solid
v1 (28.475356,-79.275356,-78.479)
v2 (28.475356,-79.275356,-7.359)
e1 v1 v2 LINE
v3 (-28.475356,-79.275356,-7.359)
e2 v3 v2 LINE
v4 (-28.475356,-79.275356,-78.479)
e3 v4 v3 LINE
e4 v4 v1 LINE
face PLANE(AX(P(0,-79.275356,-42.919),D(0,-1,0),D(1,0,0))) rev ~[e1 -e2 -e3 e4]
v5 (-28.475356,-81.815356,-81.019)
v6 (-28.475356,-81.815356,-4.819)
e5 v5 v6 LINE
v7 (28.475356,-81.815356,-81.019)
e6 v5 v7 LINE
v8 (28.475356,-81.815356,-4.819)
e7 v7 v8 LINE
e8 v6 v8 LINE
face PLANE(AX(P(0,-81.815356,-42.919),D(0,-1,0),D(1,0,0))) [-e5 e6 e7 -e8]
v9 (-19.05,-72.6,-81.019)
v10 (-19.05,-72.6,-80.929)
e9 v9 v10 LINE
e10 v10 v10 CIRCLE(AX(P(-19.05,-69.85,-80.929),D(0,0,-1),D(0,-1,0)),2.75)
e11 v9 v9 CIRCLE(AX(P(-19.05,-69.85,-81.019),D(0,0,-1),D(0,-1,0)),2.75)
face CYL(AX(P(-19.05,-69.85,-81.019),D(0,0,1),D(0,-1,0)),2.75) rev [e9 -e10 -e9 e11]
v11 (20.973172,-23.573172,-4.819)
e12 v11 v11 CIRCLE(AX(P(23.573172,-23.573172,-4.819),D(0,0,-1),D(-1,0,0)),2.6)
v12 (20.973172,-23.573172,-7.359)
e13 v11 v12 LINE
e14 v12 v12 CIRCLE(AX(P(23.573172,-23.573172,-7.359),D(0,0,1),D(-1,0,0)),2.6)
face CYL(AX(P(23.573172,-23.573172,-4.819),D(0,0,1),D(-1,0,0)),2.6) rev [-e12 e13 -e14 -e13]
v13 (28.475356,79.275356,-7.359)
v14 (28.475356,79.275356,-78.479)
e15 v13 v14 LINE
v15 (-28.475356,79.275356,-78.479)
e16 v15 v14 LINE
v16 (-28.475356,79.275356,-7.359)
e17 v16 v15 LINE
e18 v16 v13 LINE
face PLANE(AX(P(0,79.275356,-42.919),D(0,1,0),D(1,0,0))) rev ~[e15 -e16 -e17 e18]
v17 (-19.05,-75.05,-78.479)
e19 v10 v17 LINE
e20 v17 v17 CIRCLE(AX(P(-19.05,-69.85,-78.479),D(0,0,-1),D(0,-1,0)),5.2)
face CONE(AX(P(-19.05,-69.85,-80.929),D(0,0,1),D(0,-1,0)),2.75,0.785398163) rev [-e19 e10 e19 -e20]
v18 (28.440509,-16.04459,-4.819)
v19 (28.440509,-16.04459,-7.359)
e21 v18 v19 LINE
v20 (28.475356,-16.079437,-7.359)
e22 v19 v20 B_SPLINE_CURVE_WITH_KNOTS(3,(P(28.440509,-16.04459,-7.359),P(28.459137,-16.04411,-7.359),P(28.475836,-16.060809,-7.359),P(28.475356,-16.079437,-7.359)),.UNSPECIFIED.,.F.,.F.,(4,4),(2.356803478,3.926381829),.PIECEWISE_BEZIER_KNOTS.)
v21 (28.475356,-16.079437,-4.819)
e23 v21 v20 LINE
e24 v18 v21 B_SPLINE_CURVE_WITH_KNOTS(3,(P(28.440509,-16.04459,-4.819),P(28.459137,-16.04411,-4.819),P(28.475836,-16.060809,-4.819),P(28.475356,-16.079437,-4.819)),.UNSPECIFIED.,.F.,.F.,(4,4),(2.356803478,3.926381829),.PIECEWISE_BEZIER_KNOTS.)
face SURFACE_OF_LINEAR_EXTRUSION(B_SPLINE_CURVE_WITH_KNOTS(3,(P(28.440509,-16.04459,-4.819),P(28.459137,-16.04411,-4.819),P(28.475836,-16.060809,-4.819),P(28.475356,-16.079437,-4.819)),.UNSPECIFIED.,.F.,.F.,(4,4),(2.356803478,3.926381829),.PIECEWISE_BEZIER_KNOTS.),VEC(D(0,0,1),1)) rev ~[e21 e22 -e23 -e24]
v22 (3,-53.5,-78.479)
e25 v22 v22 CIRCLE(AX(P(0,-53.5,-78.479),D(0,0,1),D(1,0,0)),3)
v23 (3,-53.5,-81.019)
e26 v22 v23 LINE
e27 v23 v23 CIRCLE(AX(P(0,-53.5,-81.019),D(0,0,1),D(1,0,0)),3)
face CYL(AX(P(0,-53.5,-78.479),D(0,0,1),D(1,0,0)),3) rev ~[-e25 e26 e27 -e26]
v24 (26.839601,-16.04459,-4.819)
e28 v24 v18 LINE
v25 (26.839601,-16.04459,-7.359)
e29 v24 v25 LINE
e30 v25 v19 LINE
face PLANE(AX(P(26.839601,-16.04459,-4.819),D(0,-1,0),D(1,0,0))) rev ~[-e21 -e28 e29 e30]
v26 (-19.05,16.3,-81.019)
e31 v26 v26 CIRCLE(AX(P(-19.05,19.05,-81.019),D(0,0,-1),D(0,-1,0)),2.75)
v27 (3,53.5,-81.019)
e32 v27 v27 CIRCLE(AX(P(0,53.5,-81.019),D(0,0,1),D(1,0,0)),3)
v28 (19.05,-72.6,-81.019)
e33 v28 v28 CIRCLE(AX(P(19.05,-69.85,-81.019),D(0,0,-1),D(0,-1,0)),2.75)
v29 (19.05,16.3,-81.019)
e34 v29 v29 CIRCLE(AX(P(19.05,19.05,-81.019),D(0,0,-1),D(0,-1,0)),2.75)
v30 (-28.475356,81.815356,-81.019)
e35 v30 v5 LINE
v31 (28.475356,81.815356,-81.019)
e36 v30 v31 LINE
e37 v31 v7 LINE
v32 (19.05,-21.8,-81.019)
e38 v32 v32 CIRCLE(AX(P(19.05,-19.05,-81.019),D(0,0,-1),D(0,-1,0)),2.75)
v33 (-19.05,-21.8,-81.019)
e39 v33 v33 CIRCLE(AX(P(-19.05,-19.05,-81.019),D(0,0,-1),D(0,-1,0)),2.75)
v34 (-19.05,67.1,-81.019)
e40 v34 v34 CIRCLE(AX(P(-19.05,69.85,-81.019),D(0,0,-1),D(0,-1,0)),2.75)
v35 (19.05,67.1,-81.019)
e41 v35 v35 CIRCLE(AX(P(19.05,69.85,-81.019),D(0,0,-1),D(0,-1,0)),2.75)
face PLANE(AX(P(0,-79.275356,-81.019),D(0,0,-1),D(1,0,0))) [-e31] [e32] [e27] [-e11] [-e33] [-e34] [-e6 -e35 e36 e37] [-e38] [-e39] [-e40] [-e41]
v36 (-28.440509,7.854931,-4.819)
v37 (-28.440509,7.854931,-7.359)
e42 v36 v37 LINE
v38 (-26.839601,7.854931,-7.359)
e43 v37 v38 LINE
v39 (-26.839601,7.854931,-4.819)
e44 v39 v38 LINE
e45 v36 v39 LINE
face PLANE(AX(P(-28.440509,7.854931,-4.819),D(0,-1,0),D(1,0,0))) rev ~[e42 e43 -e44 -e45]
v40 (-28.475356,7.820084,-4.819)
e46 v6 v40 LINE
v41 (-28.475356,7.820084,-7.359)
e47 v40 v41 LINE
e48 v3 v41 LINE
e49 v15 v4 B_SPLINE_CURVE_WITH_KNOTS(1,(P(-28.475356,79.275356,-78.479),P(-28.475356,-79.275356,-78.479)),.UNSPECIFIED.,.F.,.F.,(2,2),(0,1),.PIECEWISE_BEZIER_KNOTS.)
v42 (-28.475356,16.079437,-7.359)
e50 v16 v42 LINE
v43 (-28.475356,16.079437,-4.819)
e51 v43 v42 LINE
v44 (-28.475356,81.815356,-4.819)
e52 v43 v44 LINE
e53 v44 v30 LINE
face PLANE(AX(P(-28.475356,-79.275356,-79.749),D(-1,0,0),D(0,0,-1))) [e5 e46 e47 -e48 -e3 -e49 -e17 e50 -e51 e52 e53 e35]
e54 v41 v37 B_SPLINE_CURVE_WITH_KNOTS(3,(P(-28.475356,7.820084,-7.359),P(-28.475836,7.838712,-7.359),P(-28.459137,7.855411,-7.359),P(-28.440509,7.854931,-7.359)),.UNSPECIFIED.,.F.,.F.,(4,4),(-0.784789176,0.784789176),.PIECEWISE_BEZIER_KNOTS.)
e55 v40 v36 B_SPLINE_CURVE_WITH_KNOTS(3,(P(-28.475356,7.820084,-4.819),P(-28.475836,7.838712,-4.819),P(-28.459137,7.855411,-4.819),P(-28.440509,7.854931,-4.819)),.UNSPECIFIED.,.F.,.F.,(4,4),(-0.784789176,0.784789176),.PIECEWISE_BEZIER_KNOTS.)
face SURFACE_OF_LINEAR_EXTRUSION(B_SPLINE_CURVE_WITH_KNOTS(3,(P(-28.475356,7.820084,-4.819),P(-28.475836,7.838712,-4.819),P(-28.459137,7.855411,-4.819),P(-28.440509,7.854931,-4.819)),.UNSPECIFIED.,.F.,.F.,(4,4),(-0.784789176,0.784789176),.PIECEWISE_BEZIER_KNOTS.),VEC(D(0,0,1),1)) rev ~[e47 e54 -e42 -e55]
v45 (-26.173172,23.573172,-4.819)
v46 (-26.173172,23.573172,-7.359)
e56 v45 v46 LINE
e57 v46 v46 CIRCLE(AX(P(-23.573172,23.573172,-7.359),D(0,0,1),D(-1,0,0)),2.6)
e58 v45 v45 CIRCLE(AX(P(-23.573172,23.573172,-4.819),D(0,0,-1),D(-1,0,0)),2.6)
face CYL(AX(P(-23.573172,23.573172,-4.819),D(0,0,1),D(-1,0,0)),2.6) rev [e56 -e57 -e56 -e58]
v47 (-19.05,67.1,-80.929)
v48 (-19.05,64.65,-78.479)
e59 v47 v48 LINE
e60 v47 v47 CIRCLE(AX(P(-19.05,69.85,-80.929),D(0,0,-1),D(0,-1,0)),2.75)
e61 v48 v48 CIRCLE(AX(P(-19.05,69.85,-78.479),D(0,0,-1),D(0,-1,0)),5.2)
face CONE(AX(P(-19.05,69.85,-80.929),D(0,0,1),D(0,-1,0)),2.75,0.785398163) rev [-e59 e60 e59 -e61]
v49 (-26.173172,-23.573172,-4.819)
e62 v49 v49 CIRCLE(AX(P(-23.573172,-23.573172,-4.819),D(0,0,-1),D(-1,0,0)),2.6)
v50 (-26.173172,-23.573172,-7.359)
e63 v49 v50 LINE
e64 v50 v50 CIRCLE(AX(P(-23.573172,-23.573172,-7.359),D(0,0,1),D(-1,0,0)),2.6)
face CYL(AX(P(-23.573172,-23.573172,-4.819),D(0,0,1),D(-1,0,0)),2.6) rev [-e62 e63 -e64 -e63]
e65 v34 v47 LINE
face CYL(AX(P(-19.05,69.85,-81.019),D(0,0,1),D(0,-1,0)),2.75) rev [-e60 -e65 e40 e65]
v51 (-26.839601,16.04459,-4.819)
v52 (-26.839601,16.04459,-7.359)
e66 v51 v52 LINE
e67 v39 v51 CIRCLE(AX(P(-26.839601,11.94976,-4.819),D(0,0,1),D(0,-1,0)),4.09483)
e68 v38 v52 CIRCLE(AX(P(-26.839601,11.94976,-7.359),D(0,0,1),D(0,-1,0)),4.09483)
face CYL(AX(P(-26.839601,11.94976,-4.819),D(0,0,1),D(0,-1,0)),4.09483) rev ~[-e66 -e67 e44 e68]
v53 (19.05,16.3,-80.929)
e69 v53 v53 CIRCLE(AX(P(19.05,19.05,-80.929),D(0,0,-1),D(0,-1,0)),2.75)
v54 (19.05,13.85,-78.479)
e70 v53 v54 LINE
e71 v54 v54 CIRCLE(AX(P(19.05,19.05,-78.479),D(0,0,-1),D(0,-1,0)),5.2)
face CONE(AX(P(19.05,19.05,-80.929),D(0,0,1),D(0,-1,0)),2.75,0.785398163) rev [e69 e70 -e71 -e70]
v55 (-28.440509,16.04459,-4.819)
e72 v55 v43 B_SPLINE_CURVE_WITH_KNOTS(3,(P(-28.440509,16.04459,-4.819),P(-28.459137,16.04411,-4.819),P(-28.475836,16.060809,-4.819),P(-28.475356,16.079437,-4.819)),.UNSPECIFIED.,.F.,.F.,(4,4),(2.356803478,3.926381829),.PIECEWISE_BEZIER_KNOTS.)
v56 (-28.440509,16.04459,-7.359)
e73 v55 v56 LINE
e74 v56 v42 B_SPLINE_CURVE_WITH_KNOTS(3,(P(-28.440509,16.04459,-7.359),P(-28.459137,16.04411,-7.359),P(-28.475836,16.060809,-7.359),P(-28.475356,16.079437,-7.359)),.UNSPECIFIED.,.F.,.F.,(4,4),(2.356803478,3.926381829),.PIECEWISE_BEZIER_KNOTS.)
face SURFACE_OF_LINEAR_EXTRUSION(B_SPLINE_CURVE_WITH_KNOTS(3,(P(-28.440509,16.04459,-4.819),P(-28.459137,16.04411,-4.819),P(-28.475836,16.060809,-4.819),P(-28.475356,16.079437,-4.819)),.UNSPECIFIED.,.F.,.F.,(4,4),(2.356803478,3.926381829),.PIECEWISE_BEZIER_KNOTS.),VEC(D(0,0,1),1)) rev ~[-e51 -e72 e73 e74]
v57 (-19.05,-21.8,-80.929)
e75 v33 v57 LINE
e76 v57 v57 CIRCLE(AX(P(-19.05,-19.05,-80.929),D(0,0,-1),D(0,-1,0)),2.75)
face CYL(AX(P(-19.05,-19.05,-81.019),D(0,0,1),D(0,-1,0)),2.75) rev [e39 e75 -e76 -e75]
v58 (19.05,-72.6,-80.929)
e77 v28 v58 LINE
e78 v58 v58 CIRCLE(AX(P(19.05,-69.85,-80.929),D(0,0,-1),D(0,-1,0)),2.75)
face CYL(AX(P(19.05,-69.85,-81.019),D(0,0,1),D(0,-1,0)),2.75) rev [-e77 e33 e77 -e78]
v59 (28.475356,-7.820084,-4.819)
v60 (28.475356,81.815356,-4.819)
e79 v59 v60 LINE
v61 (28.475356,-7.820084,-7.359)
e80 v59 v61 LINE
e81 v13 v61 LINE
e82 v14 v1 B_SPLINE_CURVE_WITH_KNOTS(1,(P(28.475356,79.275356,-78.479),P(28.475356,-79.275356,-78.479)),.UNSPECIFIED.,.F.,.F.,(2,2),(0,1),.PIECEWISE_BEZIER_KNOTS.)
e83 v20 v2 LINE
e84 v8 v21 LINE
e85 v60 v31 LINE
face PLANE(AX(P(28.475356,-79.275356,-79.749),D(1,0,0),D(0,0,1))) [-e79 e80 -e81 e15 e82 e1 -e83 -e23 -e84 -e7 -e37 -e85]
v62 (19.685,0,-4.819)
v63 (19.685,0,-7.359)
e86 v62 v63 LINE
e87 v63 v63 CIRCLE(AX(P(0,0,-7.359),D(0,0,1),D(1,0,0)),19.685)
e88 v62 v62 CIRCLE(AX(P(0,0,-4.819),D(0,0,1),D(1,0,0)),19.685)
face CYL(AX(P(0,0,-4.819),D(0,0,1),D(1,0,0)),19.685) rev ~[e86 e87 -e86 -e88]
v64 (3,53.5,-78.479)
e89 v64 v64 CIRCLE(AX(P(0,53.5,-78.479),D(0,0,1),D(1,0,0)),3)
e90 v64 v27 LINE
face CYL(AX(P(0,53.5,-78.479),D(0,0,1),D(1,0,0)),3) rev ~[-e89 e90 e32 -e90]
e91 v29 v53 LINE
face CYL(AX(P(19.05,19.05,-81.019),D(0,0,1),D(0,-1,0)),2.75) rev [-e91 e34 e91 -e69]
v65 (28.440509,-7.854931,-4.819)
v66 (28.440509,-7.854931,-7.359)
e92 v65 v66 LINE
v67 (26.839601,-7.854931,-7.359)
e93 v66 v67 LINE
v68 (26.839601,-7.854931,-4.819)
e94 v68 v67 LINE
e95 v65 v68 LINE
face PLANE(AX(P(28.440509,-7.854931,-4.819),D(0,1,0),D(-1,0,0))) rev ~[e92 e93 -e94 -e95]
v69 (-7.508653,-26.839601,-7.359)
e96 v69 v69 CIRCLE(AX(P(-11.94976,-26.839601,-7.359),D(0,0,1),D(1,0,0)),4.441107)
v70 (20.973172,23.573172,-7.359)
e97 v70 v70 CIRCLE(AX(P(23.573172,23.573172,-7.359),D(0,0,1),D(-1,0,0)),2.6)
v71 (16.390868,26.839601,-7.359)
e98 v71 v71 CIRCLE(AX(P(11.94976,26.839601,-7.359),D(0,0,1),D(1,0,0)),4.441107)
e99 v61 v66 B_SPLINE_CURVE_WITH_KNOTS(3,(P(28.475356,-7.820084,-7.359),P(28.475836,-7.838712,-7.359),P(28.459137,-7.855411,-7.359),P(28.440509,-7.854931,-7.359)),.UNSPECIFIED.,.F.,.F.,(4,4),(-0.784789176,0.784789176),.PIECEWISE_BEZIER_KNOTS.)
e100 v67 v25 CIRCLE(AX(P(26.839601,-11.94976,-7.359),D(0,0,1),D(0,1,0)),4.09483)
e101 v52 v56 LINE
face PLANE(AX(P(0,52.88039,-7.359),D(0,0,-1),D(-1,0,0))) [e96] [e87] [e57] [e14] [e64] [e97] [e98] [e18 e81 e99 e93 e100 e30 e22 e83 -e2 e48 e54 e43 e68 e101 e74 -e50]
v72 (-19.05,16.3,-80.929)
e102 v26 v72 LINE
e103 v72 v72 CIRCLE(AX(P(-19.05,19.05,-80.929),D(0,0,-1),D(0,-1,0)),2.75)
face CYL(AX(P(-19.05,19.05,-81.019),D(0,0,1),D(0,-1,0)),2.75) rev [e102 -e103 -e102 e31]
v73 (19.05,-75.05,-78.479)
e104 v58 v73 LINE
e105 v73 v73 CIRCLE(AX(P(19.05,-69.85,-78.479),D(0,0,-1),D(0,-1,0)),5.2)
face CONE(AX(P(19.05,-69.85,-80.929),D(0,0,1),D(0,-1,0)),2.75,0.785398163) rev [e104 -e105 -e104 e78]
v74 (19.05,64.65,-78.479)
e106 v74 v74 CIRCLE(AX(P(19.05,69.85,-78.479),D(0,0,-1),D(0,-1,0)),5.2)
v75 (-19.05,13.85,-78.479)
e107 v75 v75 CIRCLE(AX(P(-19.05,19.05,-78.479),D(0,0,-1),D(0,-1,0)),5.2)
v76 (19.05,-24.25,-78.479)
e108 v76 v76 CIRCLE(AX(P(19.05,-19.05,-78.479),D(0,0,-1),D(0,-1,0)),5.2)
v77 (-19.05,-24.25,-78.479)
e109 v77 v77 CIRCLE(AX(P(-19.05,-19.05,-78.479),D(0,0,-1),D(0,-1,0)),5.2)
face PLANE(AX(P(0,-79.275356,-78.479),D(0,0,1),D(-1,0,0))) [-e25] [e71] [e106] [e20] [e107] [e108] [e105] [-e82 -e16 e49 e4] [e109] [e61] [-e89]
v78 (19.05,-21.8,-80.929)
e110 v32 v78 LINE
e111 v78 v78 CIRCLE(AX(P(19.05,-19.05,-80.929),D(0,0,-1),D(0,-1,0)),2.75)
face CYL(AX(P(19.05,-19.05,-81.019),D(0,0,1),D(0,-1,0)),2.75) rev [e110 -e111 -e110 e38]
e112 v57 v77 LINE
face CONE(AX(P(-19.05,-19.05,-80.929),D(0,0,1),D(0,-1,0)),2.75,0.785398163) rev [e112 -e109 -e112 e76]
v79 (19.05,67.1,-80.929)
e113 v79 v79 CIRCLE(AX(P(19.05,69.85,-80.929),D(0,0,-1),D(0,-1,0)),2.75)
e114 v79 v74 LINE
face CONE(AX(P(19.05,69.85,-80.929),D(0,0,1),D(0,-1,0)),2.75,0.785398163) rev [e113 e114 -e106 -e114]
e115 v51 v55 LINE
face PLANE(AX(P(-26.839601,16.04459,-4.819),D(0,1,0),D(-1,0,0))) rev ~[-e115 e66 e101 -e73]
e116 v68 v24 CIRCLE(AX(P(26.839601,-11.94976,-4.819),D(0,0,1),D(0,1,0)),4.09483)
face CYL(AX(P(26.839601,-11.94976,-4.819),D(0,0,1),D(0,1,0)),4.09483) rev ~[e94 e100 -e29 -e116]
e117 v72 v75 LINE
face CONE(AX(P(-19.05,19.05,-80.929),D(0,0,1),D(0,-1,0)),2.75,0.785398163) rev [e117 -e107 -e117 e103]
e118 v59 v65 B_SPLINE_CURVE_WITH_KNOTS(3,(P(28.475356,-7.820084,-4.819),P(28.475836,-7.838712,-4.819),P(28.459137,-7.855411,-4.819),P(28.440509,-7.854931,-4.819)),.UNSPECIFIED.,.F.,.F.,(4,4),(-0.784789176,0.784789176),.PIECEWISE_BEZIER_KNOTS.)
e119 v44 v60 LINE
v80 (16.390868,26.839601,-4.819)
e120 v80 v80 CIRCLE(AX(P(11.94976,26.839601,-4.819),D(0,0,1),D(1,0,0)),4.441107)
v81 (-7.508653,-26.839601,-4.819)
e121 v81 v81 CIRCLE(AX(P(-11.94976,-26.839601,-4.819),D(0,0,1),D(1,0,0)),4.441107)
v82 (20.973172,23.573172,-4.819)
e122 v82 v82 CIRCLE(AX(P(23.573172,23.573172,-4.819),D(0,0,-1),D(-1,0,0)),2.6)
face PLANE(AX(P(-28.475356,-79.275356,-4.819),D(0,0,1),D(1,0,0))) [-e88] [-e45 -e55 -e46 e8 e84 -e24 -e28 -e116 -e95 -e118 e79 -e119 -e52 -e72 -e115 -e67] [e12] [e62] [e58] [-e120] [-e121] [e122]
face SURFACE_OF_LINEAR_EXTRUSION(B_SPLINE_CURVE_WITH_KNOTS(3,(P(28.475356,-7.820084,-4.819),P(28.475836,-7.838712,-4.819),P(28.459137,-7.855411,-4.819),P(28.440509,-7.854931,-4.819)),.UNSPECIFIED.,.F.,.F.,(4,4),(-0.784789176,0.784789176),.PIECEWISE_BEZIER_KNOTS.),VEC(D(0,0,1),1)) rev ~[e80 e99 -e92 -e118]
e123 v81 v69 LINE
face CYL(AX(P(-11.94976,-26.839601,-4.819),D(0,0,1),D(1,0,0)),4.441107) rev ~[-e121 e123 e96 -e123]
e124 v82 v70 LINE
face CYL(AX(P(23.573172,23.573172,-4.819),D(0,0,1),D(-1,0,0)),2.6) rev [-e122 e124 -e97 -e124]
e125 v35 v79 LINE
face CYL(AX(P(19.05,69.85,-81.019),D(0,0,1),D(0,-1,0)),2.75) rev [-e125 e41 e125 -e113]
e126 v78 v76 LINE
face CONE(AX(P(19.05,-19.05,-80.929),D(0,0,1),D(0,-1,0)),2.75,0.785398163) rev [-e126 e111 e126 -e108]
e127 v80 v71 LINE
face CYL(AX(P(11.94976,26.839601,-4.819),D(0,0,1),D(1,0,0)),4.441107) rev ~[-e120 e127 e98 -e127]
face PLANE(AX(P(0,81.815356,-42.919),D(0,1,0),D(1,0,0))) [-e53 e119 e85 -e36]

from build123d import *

# Parameters (mm, degrees)
BOSS_EXTRUDE1_DEPTH                            = 2.54
SKETCH2_R                                      = 2.6
CUT_EXTRUDE1_DEPTH                             = 3.5400001
CUT_EXTRUDE1_DEPTH_BACK                        = 1.0000001
BOSS_EXTRUDE2_DEPTH                            = 2.54
SKETCH5_R                                      = 19.685
CUT_EXTRUDE2_DEPTH                             = 2.54
SKETCH6_W                                      = 56.950712044
SKETCH6_H                                      = 76.2
BOSS_EXTRUDE3_DEPTH                            = 2.54
SKETCH7_W                                      = 56.950712044
SKETCH7_H                                      = 76.2
BOSS_EXTRUDE5_DEPTH                            = 2.54
SKETCH10_W                                     = 56.950712044
SKETCH10_H                                     = 2.54
SKETCH8_W                                      = 56.950712044
SKETCH8_H                                      = 2.54
CUT_EXTRUDE3_REACH                             = 78.2
SKETCH12_R                                     = 4.44110741
CSK_FOR_M5_FLAT_HEAD_MACHINE_SCREW1_AT_2_COUNT = 2
CSK_FOR_M5_FLAT_HEAD_MACHINE_SCREW1_AT_2_PITCH = 38.1
CSK_FOR_M5_FLAT_HEAD_MACHINE_SCREW1_AT_3_COUNT = 2
CSK_FOR_M5_FLAT_HEAD_MACHINE_SCREW1_AT_3_PITCH = 50.8
CSK_FOR_M5_FLAT_HEAD_MACHINE_SCREW1_AT_4_COUNT = 2
CSK_FOR_M5_FLAT_HEAD_MACHINE_SCREW1_AT_4_PITCH = 63.5
CSK_FOR_M5_FLAT_HEAD_MACHINE_SCREW1_AT_5_COUNT = 2
CSK_FOR_M5_FLAT_HEAD_MACHINE_SCREW1_AT_5_PITCH = 88.9
CSK_FOR_M5_FLAT_HEAD_MACHINE_SCREW1_AT_6_COUNT = 2
CSK_FOR_M5_FLAT_HEAD_MACHINE_SCREW1_AT_6_PITCH = 96.720318444
CSK_FOR_M5_FLAT_HEAD_MACHINE_SCREW1_AT_7_COUNT = 2
CSK_FOR_M5_FLAT_HEAD_MACHINE_SCREW1_AT_7_PITCH = 139.7
CSK_FOR_M5_FLAT_HEAD_MACHINE_SCREW1_AT_8_COUNT = 2
CSK_FOR_M5_FLAT_HEAD_MACHINE_SCREW1_AT_8_PITCH = 144.802278988
SKETCH26_R                                     = 3
CUT_EXTRUDE5_DEPTH                             = 10


with BuildPart() as part:
    # Sketch3 → Boss-Extrude1 (new body)
    with BuildSketch(Plane(origin=(0, 0, -4.819), x_dir=(-1, 0, 0), z_dir=(0, 0, -1))):
        with BuildLine():
            Line((28.440509101, 7.854930932), (26.839601475, 7.854930932))
            ThreePointArc((26.839601475, 7.854930932), (22.744771928, 11.949760479), (26.839601475, 16.044590025))
            Line((26.839601475, 16.044590025), (28.440509101, 16.044590025))
            add(Edge.make_bspline(
                [(28.440509101, 16.044590025), (28.459137134, 16.044109711), (28.475836336, 16.060808913), (28.475356022, 16.079436946)],
                knots=[2.356803478, 2.356803478, 2.356803478, 2.356803478, 3.926381829, 3.926381829, 3.926381829, 3.926381829], degree=3))
            Line((28.475356022, 16.079436946), (28.475356022, 25.845))
            ThreePointArc((28.475356022, 25.845), (27.70494258, 27.70494258), (25.845, 28.475356022))
            Line((25.845, 28.475356022), (-7.820084012, 28.475356022))
            add(Edge.make_bspline(
                [(-7.820084012, 28.475356022), (-7.838712044, 28.475836336), (-7.855411247, 28.459137134), (-7.854930932, 28.440509101)],
                knots=[-0.784789176, -0.784789176, -0.784789176, -0.784789176, 0.784789176, 0.784789176, 0.784789176, 0.784789176], degree=3))
            Line((-7.854930932, 28.440509101), (-7.854930932, 26.839601475))
            ThreePointArc((-7.854930932, 26.839601475), (-11.949760479, 22.744771928), (-16.044590025, 26.839601475))
            Line((-16.044590025, 26.839601475), (-16.044590025, 28.440509101))
            add(Edge.make_bspline(
                [(-16.044590025, 28.440509101), (-16.044109711, 28.459137134), (-16.060808913, 28.475836336), (-16.079436946, 28.475356022)],
                knots=[2.356803478, 2.356803478, 2.356803478, 2.356803478, 3.926381829, 3.926381829, 3.926381829, 3.926381829], degree=3))
            Line((-16.079436946, 28.475356022), (-25.845, 28.475356022))
            ThreePointArc((-25.845, 28.475356022), (-27.70494258, 27.70494258), (-28.475356022, 25.845))
            Line((-28.475356022, 25.845), (-28.475356022, -7.820084012))
            add(Edge.make_bspline(
                [(-28.475356022, -7.820084012), (-28.475836336, -7.838712044), (-28.459137134, -7.855411247), (-28.440509101, -7.854930932)],
                knots=[-0.784789176, -0.784789176, -0.784789176, -0.784789176, 0.784789176, 0.784789176, 0.784789176, 0.784789176], degree=3))
            Line((-28.440509101, -7.854930932), (-26.839601475, -7.854930932))
            ThreePointArc((-26.839601475, -7.854930932), (-22.744771928, -11.949760479), (-26.839601475, -16.044590025))
            Line((-26.839601475, -16.044590025), (-28.440509101, -16.044590025))
            add(Edge.make_bspline(
                [(-28.440509101, -16.044590025), (-28.459137134, -16.044109711), (-28.475836336, -16.060808913), (-28.475356022, -16.079436946)],
                knots=[2.356803478, 2.356803478, 2.356803478, 2.356803478, 3.926381829, 3.926381829, 3.926381829, 3.926381829], degree=3))
            Line((-28.475356022, -16.079436946), (-28.475356022, -25.845))
            ThreePointArc((-28.475356022, -25.845), (-27.70494258, -27.70494258), (-25.845, -28.475356022))
            Line((-25.845, -28.475356022), (7.820084012, -28.475356022))
            add(Edge.make_bspline(
                [(7.820084012, -28.475356022), (7.838712044, -28.475836336), (7.855411247, -28.459137134), (7.854930932, -28.440509101)],
                knots=[-0.784789176, -0.784789176, -0.784789176, -0.784789176, 0.784789176, 0.784789176, 0.784789176, 0.784789176], degree=3))
            Line((7.854930932, -28.440509101), (7.854930932, -26.839601475))
            ThreePointArc((7.854930932, -26.839601475), (11.949760479, -22.744771928), (16.044590025, -26.839601475))
            Line((16.044590025, -26.839601475), (16.044590025, -28.440509101))
            add(Edge.make_bspline(
                [(16.044590025, -28.440509101), (16.044109711, -28.459137134), (16.060808913, -28.475836336), (16.079436946, -28.475356022)],
                knots=[2.356803478, 2.356803478, 2.356803478, 2.356803478, 3.926381829, 3.926381829, 3.926381829, 3.926381829], degree=3))
            Line((16.079436946, -28.475356022), (25.845, -28.475356022))
            ThreePointArc((25.845, -28.475356022), (27.70494258, -27.70494258), (28.475356022, -25.845))
            Line((28.475356022, -25.845), (28.475356022, 7.820084012))
            add(Edge.make_bspline(
                [(28.475356022, 7.820084012), (28.475836336, 7.838712044), (28.459137134, 7.855411247), (28.440509101, 7.854930932)],
                knots=[-0.784789176, -0.784789176, -0.784789176, -0.784789176, 0.784789176, 0.784789176, 0.784789176, 0.784789176], degree=3))
        make_face()
    extrude(amount=BOSS_EXTRUDE1_DEPTH)

    # Sketch2 → Cut-Extrude1 (cut, two sides)
    with BuildSketch(Plane(origin=(0, 0, -4.819), x_dir=(-1, 0, 0), z_dir=(0, 0, -1))) as cut_extrude1_sk:
        with Locations((-23.573172318, -23.573172318)):
            Circle(SKETCH2_R)
        with Locations((-23.573172318, 23.573172318)):
            Circle(SKETCH2_R)
        with Locations((23.573172318, 23.573172318)):
            Circle(SKETCH2_R)
        with Locations((23.573172318, -23.573172318)):
            Circle(SKETCH2_R)
    extrude(amount=CUT_EXTRUDE1_DEPTH, mode=Mode.SUBTRACT)
    extrude(cut_extrude1_sk.sketch, amount=-CUT_EXTRUDE1_DEPTH_BACK, mode=Mode.SUBTRACT)

    # Sketch4 → Boss-Extrude2 (add)
    with BuildSketch(Plane.XY.offset(-4.819)):
        with BuildLine():
            Line((-28.475356022, 25.845), (-28.475356022, 79.275356022))
            Line((-28.475356022, 79.275356022), (28.475356022, 79.275356022))
            Line((28.475356022, 79.275356022), (28.475356022, 25.845))
            ThreePointArc((28.475356022, 25.845), (27.70494258, 27.70494258), (25.845, 28.475356022))
            Line((25.845, 28.475356022), (-25.845, 28.475356022))
            ThreePointArc((-25.845, 28.475356022), (-27.70494258, 27.70494258), (-28.475356022, 25.845))
        make_face()
        with BuildLine():
            Line((-28.475356022, -25.845), (-28.475356022, -79.275356022))
            Line((-28.475356022, -79.275356022), (28.475356022, -79.275356022))
            Line((28.475356022, -79.275356022), (28.475356022, -25.845))
            ThreePointArc((28.475356022, -25.845), (27.70494258, -27.70494258), (25.845, -28.475356022))
            Line((25.845, -28.475356022), (-25.845, -28.475356022))
            ThreePointArc((-25.845, -28.475356022), (-27.70494258, -27.70494258), (-28.475356022, -25.845))
        make_face()
    extrude(amount=-BOSS_EXTRUDE2_DEPTH)

    # Sketch5 → Cut-Extrude2 (cut)
    with BuildSketch(Plane.XY.offset(-4.819)):
        Circle(SKETCH5_R)
    extrude(amount=-CUT_EXTRUDE2_DEPTH, mode=Mode.SUBTRACT)

    # Sketch6 → Boss-Extrude3 (add)
    with BuildSketch(Plane(origin=(0, 79.275356022, 0), x_dir=(1, 0, 0), z_dir=(0, 1, 0))):
        with Locations((0, 42.919)):
            Rectangle(SKETCH6_W, SKETCH6_H)
    extrude(amount=BOSS_EXTRUDE3_DEPTH)

    # Sketch7 → Boss-Extrude5 (add)
    with BuildSketch(Plane.XZ.offset(79.275356022)):
        with Locations((0, -42.919)):
            Rectangle(SKETCH7_W, SKETCH7_H)
    extrude(amount=BOSS_EXTRUDE5_DEPTH)

    # Sketch10 → Loft1 section 0
    with BuildSketch(Plane.XZ.offset(-79.275356022)):
        with Locations((0, -79.749)):
            Rectangle(SKETCH10_W, SKETCH10_H)
    # Sketch8 → Loft1 section 1
    with BuildSketch(Plane(origin=(0, -79.275356022, 0), x_dir=(1, 0, 0), z_dir=(0, 1, 0))):
        with Locations((0, 79.749)):
            Rectangle(SKETCH8_W, SKETCH8_H)
    loft()

    # Sketch12 → Cut-Extrude3 (cut, up to next)
    with BuildSketch(Plane.XY.offset(-4.819), mode=Mode.PRIVATE) as cut_extrude3_sk1:
        with Locations((-11.949760479, -26.839601475)):
            Circle(SKETCH12_R)
    cut_extrude3_tool1 = extrude(cut_extrude3_sk1.sketch, amount=-CUT_EXTRUDE3_REACH, mode=Mode.PRIVATE) & part.part
    add(cut_extrude3_tool1.solids().sort_by_distance((-11.94976, -26.839601, -4.819))[0], mode=Mode.SUBTRACT)
    # Sketch12 → Cut-Extrude3 (cut, up to next)
    with BuildSketch(Plane.XY.offset(-4.819), mode=Mode.PRIVATE) as cut_extrude3_sk2:
        with Locations((11.949760479, 26.839601475)):
            Circle(SKETCH12_R)
    cut_extrude3_tool2 = extrude(cut_extrude3_sk2.sketch, amount=-CUT_EXTRUDE3_REACH, mode=Mode.PRIVATE) & part.part
    add(cut_extrude3_tool2.solids().sort_by_distance((11.94976, 26.839601, -4.819))[0], mode=Mode.SUBTRACT)

    # Sketch20 → CSK for M5 Flat Head Machine Screw1 (revolve, cut)
    with BuildSketch(Plane(origin=(-19.05, 69.85, -78.479), x_dir=(0, -1, 0), z_dir=(1, 0, 0))):
        Polygon((0, 0), (0, 2.54), (2.75, 2.54), (2.75, 2.45), (5.2, 0), align=None)
    csk_for_m5_flat_head_machine_screw1 = revolve(axis=Axis((-19.05, 69.85, -72.129), (0, 0, -1)), mode=Mode.SUBTRACT)

    # CSK for M5 Flat Head Machine Screw1 at 2: CSK for M5 Flat Head Machine Screw1 ×2
    with Locations(*[(i * CSK_FOR_M5_FLAT_HEAD_MACHINE_SCREW1_AT_2_PITCH, 0, 0) for i in range(1, CSK_FOR_M5_FLAT_HEAD_MACHINE_SCREW1_AT_2_COUNT)]):
        add(csk_for_m5_flat_head_machine_screw1, mode=Mode.SUBTRACT)

    # CSK for M5 Flat Head Machine Screw1 at 3: CSK for M5 Flat Head Machine Screw1 ×2
    with Locations(*[(0, -i * CSK_FOR_M5_FLAT_HEAD_MACHINE_SCREW1_AT_3_PITCH, 0) for i in range(1, CSK_FOR_M5_FLAT_HEAD_MACHINE_SCREW1_AT_3_COUNT)]):
        add(csk_for_m5_flat_head_machine_screw1, mode=Mode.SUBTRACT)

    # CSK for M5 Flat Head Machine Screw1 at 4: CSK for M5 Flat Head Machine Screw1 ×2
    with Locations(*[Vector(0.6, -0.8, 0) * (i * CSK_FOR_M5_FLAT_HEAD_MACHINE_SCREW1_AT_4_PITCH) for i in range(1, CSK_FOR_M5_FLAT_HEAD_MACHINE_SCREW1_AT_4_COUNT)]):
        add(csk_for_m5_flat_head_machine_screw1, mode=Mode.SUBTRACT)

    # CSK for M5 Flat Head Machine Screw1 at 5: CSK for M5 Flat Head Machine Screw1 ×2
    with Locations(*[(0, -i * CSK_FOR_M5_FLAT_HEAD_MACHINE_SCREW1_AT_5_PITCH, 0) for i in range(1, CSK_FOR_M5_FLAT_HEAD_MACHINE_SCREW1_AT_5_COUNT)]):
        add(csk_for_m5_flat_head_machine_screw1, mode=Mode.SUBTRACT)

    # CSK for M5 Flat Head Machine Screw1 at 6: CSK for M5 Flat Head Machine Screw1 ×2
    with Locations(*[Vector(0.393919299, -0.91914503, 0) * (i * CSK_FOR_M5_FLAT_HEAD_MACHINE_SCREW1_AT_6_PITCH) for i in range(1, CSK_FOR_M5_FLAT_HEAD_MACHINE_SCREW1_AT_6_COUNT)]):
        add(csk_for_m5_flat_head_machine_screw1, mode=Mode.SUBTRACT)

    # CSK for M5 Flat Head Machine Screw1 at 7: CSK for M5 Flat Head Machine Screw1 ×2
    with Locations(*[(0, -i * CSK_FOR_M5_FLAT_HEAD_MACHINE_SCREW1_AT_7_PITCH, 0) for i in range(1, CSK_FOR_M5_FLAT_HEAD_MACHINE_SCREW1_AT_7_COUNT)]):
        add(csk_for_m5_flat_head_machine_screw1, mode=Mode.SUBTRACT)

    # CSK for M5 Flat Head Machine Screw1 at 8: CSK for M5 Flat Head Machine Screw1 ×2
    with Locations(*[Vector(0.263117406, -0.964763821, 0) * (i * CSK_FOR_M5_FLAT_HEAD_MACHINE_SCREW1_AT_8_PITCH) for i in range(1, CSK_FOR_M5_FLAT_HEAD_MACHINE_SCREW1_AT_8_COUNT)]):
        add(csk_for_m5_flat_head_machine_screw1, mode=Mode.SUBTRACT)

    # Sketch26 → Cut-Extrude5 (cut)
    with BuildSketch(Plane.XY.offset(-78.479)):
        with Locations((0, 53.5)):
            Circle(SKETCH26_R)
        with Locations((0, -53.5)):
            Circle(SKETCH26_R)
    extrude(amount=-CUT_EXTRUDE5_DEPTH, mode=Mode.SUBTRACT)


solid = part.part
